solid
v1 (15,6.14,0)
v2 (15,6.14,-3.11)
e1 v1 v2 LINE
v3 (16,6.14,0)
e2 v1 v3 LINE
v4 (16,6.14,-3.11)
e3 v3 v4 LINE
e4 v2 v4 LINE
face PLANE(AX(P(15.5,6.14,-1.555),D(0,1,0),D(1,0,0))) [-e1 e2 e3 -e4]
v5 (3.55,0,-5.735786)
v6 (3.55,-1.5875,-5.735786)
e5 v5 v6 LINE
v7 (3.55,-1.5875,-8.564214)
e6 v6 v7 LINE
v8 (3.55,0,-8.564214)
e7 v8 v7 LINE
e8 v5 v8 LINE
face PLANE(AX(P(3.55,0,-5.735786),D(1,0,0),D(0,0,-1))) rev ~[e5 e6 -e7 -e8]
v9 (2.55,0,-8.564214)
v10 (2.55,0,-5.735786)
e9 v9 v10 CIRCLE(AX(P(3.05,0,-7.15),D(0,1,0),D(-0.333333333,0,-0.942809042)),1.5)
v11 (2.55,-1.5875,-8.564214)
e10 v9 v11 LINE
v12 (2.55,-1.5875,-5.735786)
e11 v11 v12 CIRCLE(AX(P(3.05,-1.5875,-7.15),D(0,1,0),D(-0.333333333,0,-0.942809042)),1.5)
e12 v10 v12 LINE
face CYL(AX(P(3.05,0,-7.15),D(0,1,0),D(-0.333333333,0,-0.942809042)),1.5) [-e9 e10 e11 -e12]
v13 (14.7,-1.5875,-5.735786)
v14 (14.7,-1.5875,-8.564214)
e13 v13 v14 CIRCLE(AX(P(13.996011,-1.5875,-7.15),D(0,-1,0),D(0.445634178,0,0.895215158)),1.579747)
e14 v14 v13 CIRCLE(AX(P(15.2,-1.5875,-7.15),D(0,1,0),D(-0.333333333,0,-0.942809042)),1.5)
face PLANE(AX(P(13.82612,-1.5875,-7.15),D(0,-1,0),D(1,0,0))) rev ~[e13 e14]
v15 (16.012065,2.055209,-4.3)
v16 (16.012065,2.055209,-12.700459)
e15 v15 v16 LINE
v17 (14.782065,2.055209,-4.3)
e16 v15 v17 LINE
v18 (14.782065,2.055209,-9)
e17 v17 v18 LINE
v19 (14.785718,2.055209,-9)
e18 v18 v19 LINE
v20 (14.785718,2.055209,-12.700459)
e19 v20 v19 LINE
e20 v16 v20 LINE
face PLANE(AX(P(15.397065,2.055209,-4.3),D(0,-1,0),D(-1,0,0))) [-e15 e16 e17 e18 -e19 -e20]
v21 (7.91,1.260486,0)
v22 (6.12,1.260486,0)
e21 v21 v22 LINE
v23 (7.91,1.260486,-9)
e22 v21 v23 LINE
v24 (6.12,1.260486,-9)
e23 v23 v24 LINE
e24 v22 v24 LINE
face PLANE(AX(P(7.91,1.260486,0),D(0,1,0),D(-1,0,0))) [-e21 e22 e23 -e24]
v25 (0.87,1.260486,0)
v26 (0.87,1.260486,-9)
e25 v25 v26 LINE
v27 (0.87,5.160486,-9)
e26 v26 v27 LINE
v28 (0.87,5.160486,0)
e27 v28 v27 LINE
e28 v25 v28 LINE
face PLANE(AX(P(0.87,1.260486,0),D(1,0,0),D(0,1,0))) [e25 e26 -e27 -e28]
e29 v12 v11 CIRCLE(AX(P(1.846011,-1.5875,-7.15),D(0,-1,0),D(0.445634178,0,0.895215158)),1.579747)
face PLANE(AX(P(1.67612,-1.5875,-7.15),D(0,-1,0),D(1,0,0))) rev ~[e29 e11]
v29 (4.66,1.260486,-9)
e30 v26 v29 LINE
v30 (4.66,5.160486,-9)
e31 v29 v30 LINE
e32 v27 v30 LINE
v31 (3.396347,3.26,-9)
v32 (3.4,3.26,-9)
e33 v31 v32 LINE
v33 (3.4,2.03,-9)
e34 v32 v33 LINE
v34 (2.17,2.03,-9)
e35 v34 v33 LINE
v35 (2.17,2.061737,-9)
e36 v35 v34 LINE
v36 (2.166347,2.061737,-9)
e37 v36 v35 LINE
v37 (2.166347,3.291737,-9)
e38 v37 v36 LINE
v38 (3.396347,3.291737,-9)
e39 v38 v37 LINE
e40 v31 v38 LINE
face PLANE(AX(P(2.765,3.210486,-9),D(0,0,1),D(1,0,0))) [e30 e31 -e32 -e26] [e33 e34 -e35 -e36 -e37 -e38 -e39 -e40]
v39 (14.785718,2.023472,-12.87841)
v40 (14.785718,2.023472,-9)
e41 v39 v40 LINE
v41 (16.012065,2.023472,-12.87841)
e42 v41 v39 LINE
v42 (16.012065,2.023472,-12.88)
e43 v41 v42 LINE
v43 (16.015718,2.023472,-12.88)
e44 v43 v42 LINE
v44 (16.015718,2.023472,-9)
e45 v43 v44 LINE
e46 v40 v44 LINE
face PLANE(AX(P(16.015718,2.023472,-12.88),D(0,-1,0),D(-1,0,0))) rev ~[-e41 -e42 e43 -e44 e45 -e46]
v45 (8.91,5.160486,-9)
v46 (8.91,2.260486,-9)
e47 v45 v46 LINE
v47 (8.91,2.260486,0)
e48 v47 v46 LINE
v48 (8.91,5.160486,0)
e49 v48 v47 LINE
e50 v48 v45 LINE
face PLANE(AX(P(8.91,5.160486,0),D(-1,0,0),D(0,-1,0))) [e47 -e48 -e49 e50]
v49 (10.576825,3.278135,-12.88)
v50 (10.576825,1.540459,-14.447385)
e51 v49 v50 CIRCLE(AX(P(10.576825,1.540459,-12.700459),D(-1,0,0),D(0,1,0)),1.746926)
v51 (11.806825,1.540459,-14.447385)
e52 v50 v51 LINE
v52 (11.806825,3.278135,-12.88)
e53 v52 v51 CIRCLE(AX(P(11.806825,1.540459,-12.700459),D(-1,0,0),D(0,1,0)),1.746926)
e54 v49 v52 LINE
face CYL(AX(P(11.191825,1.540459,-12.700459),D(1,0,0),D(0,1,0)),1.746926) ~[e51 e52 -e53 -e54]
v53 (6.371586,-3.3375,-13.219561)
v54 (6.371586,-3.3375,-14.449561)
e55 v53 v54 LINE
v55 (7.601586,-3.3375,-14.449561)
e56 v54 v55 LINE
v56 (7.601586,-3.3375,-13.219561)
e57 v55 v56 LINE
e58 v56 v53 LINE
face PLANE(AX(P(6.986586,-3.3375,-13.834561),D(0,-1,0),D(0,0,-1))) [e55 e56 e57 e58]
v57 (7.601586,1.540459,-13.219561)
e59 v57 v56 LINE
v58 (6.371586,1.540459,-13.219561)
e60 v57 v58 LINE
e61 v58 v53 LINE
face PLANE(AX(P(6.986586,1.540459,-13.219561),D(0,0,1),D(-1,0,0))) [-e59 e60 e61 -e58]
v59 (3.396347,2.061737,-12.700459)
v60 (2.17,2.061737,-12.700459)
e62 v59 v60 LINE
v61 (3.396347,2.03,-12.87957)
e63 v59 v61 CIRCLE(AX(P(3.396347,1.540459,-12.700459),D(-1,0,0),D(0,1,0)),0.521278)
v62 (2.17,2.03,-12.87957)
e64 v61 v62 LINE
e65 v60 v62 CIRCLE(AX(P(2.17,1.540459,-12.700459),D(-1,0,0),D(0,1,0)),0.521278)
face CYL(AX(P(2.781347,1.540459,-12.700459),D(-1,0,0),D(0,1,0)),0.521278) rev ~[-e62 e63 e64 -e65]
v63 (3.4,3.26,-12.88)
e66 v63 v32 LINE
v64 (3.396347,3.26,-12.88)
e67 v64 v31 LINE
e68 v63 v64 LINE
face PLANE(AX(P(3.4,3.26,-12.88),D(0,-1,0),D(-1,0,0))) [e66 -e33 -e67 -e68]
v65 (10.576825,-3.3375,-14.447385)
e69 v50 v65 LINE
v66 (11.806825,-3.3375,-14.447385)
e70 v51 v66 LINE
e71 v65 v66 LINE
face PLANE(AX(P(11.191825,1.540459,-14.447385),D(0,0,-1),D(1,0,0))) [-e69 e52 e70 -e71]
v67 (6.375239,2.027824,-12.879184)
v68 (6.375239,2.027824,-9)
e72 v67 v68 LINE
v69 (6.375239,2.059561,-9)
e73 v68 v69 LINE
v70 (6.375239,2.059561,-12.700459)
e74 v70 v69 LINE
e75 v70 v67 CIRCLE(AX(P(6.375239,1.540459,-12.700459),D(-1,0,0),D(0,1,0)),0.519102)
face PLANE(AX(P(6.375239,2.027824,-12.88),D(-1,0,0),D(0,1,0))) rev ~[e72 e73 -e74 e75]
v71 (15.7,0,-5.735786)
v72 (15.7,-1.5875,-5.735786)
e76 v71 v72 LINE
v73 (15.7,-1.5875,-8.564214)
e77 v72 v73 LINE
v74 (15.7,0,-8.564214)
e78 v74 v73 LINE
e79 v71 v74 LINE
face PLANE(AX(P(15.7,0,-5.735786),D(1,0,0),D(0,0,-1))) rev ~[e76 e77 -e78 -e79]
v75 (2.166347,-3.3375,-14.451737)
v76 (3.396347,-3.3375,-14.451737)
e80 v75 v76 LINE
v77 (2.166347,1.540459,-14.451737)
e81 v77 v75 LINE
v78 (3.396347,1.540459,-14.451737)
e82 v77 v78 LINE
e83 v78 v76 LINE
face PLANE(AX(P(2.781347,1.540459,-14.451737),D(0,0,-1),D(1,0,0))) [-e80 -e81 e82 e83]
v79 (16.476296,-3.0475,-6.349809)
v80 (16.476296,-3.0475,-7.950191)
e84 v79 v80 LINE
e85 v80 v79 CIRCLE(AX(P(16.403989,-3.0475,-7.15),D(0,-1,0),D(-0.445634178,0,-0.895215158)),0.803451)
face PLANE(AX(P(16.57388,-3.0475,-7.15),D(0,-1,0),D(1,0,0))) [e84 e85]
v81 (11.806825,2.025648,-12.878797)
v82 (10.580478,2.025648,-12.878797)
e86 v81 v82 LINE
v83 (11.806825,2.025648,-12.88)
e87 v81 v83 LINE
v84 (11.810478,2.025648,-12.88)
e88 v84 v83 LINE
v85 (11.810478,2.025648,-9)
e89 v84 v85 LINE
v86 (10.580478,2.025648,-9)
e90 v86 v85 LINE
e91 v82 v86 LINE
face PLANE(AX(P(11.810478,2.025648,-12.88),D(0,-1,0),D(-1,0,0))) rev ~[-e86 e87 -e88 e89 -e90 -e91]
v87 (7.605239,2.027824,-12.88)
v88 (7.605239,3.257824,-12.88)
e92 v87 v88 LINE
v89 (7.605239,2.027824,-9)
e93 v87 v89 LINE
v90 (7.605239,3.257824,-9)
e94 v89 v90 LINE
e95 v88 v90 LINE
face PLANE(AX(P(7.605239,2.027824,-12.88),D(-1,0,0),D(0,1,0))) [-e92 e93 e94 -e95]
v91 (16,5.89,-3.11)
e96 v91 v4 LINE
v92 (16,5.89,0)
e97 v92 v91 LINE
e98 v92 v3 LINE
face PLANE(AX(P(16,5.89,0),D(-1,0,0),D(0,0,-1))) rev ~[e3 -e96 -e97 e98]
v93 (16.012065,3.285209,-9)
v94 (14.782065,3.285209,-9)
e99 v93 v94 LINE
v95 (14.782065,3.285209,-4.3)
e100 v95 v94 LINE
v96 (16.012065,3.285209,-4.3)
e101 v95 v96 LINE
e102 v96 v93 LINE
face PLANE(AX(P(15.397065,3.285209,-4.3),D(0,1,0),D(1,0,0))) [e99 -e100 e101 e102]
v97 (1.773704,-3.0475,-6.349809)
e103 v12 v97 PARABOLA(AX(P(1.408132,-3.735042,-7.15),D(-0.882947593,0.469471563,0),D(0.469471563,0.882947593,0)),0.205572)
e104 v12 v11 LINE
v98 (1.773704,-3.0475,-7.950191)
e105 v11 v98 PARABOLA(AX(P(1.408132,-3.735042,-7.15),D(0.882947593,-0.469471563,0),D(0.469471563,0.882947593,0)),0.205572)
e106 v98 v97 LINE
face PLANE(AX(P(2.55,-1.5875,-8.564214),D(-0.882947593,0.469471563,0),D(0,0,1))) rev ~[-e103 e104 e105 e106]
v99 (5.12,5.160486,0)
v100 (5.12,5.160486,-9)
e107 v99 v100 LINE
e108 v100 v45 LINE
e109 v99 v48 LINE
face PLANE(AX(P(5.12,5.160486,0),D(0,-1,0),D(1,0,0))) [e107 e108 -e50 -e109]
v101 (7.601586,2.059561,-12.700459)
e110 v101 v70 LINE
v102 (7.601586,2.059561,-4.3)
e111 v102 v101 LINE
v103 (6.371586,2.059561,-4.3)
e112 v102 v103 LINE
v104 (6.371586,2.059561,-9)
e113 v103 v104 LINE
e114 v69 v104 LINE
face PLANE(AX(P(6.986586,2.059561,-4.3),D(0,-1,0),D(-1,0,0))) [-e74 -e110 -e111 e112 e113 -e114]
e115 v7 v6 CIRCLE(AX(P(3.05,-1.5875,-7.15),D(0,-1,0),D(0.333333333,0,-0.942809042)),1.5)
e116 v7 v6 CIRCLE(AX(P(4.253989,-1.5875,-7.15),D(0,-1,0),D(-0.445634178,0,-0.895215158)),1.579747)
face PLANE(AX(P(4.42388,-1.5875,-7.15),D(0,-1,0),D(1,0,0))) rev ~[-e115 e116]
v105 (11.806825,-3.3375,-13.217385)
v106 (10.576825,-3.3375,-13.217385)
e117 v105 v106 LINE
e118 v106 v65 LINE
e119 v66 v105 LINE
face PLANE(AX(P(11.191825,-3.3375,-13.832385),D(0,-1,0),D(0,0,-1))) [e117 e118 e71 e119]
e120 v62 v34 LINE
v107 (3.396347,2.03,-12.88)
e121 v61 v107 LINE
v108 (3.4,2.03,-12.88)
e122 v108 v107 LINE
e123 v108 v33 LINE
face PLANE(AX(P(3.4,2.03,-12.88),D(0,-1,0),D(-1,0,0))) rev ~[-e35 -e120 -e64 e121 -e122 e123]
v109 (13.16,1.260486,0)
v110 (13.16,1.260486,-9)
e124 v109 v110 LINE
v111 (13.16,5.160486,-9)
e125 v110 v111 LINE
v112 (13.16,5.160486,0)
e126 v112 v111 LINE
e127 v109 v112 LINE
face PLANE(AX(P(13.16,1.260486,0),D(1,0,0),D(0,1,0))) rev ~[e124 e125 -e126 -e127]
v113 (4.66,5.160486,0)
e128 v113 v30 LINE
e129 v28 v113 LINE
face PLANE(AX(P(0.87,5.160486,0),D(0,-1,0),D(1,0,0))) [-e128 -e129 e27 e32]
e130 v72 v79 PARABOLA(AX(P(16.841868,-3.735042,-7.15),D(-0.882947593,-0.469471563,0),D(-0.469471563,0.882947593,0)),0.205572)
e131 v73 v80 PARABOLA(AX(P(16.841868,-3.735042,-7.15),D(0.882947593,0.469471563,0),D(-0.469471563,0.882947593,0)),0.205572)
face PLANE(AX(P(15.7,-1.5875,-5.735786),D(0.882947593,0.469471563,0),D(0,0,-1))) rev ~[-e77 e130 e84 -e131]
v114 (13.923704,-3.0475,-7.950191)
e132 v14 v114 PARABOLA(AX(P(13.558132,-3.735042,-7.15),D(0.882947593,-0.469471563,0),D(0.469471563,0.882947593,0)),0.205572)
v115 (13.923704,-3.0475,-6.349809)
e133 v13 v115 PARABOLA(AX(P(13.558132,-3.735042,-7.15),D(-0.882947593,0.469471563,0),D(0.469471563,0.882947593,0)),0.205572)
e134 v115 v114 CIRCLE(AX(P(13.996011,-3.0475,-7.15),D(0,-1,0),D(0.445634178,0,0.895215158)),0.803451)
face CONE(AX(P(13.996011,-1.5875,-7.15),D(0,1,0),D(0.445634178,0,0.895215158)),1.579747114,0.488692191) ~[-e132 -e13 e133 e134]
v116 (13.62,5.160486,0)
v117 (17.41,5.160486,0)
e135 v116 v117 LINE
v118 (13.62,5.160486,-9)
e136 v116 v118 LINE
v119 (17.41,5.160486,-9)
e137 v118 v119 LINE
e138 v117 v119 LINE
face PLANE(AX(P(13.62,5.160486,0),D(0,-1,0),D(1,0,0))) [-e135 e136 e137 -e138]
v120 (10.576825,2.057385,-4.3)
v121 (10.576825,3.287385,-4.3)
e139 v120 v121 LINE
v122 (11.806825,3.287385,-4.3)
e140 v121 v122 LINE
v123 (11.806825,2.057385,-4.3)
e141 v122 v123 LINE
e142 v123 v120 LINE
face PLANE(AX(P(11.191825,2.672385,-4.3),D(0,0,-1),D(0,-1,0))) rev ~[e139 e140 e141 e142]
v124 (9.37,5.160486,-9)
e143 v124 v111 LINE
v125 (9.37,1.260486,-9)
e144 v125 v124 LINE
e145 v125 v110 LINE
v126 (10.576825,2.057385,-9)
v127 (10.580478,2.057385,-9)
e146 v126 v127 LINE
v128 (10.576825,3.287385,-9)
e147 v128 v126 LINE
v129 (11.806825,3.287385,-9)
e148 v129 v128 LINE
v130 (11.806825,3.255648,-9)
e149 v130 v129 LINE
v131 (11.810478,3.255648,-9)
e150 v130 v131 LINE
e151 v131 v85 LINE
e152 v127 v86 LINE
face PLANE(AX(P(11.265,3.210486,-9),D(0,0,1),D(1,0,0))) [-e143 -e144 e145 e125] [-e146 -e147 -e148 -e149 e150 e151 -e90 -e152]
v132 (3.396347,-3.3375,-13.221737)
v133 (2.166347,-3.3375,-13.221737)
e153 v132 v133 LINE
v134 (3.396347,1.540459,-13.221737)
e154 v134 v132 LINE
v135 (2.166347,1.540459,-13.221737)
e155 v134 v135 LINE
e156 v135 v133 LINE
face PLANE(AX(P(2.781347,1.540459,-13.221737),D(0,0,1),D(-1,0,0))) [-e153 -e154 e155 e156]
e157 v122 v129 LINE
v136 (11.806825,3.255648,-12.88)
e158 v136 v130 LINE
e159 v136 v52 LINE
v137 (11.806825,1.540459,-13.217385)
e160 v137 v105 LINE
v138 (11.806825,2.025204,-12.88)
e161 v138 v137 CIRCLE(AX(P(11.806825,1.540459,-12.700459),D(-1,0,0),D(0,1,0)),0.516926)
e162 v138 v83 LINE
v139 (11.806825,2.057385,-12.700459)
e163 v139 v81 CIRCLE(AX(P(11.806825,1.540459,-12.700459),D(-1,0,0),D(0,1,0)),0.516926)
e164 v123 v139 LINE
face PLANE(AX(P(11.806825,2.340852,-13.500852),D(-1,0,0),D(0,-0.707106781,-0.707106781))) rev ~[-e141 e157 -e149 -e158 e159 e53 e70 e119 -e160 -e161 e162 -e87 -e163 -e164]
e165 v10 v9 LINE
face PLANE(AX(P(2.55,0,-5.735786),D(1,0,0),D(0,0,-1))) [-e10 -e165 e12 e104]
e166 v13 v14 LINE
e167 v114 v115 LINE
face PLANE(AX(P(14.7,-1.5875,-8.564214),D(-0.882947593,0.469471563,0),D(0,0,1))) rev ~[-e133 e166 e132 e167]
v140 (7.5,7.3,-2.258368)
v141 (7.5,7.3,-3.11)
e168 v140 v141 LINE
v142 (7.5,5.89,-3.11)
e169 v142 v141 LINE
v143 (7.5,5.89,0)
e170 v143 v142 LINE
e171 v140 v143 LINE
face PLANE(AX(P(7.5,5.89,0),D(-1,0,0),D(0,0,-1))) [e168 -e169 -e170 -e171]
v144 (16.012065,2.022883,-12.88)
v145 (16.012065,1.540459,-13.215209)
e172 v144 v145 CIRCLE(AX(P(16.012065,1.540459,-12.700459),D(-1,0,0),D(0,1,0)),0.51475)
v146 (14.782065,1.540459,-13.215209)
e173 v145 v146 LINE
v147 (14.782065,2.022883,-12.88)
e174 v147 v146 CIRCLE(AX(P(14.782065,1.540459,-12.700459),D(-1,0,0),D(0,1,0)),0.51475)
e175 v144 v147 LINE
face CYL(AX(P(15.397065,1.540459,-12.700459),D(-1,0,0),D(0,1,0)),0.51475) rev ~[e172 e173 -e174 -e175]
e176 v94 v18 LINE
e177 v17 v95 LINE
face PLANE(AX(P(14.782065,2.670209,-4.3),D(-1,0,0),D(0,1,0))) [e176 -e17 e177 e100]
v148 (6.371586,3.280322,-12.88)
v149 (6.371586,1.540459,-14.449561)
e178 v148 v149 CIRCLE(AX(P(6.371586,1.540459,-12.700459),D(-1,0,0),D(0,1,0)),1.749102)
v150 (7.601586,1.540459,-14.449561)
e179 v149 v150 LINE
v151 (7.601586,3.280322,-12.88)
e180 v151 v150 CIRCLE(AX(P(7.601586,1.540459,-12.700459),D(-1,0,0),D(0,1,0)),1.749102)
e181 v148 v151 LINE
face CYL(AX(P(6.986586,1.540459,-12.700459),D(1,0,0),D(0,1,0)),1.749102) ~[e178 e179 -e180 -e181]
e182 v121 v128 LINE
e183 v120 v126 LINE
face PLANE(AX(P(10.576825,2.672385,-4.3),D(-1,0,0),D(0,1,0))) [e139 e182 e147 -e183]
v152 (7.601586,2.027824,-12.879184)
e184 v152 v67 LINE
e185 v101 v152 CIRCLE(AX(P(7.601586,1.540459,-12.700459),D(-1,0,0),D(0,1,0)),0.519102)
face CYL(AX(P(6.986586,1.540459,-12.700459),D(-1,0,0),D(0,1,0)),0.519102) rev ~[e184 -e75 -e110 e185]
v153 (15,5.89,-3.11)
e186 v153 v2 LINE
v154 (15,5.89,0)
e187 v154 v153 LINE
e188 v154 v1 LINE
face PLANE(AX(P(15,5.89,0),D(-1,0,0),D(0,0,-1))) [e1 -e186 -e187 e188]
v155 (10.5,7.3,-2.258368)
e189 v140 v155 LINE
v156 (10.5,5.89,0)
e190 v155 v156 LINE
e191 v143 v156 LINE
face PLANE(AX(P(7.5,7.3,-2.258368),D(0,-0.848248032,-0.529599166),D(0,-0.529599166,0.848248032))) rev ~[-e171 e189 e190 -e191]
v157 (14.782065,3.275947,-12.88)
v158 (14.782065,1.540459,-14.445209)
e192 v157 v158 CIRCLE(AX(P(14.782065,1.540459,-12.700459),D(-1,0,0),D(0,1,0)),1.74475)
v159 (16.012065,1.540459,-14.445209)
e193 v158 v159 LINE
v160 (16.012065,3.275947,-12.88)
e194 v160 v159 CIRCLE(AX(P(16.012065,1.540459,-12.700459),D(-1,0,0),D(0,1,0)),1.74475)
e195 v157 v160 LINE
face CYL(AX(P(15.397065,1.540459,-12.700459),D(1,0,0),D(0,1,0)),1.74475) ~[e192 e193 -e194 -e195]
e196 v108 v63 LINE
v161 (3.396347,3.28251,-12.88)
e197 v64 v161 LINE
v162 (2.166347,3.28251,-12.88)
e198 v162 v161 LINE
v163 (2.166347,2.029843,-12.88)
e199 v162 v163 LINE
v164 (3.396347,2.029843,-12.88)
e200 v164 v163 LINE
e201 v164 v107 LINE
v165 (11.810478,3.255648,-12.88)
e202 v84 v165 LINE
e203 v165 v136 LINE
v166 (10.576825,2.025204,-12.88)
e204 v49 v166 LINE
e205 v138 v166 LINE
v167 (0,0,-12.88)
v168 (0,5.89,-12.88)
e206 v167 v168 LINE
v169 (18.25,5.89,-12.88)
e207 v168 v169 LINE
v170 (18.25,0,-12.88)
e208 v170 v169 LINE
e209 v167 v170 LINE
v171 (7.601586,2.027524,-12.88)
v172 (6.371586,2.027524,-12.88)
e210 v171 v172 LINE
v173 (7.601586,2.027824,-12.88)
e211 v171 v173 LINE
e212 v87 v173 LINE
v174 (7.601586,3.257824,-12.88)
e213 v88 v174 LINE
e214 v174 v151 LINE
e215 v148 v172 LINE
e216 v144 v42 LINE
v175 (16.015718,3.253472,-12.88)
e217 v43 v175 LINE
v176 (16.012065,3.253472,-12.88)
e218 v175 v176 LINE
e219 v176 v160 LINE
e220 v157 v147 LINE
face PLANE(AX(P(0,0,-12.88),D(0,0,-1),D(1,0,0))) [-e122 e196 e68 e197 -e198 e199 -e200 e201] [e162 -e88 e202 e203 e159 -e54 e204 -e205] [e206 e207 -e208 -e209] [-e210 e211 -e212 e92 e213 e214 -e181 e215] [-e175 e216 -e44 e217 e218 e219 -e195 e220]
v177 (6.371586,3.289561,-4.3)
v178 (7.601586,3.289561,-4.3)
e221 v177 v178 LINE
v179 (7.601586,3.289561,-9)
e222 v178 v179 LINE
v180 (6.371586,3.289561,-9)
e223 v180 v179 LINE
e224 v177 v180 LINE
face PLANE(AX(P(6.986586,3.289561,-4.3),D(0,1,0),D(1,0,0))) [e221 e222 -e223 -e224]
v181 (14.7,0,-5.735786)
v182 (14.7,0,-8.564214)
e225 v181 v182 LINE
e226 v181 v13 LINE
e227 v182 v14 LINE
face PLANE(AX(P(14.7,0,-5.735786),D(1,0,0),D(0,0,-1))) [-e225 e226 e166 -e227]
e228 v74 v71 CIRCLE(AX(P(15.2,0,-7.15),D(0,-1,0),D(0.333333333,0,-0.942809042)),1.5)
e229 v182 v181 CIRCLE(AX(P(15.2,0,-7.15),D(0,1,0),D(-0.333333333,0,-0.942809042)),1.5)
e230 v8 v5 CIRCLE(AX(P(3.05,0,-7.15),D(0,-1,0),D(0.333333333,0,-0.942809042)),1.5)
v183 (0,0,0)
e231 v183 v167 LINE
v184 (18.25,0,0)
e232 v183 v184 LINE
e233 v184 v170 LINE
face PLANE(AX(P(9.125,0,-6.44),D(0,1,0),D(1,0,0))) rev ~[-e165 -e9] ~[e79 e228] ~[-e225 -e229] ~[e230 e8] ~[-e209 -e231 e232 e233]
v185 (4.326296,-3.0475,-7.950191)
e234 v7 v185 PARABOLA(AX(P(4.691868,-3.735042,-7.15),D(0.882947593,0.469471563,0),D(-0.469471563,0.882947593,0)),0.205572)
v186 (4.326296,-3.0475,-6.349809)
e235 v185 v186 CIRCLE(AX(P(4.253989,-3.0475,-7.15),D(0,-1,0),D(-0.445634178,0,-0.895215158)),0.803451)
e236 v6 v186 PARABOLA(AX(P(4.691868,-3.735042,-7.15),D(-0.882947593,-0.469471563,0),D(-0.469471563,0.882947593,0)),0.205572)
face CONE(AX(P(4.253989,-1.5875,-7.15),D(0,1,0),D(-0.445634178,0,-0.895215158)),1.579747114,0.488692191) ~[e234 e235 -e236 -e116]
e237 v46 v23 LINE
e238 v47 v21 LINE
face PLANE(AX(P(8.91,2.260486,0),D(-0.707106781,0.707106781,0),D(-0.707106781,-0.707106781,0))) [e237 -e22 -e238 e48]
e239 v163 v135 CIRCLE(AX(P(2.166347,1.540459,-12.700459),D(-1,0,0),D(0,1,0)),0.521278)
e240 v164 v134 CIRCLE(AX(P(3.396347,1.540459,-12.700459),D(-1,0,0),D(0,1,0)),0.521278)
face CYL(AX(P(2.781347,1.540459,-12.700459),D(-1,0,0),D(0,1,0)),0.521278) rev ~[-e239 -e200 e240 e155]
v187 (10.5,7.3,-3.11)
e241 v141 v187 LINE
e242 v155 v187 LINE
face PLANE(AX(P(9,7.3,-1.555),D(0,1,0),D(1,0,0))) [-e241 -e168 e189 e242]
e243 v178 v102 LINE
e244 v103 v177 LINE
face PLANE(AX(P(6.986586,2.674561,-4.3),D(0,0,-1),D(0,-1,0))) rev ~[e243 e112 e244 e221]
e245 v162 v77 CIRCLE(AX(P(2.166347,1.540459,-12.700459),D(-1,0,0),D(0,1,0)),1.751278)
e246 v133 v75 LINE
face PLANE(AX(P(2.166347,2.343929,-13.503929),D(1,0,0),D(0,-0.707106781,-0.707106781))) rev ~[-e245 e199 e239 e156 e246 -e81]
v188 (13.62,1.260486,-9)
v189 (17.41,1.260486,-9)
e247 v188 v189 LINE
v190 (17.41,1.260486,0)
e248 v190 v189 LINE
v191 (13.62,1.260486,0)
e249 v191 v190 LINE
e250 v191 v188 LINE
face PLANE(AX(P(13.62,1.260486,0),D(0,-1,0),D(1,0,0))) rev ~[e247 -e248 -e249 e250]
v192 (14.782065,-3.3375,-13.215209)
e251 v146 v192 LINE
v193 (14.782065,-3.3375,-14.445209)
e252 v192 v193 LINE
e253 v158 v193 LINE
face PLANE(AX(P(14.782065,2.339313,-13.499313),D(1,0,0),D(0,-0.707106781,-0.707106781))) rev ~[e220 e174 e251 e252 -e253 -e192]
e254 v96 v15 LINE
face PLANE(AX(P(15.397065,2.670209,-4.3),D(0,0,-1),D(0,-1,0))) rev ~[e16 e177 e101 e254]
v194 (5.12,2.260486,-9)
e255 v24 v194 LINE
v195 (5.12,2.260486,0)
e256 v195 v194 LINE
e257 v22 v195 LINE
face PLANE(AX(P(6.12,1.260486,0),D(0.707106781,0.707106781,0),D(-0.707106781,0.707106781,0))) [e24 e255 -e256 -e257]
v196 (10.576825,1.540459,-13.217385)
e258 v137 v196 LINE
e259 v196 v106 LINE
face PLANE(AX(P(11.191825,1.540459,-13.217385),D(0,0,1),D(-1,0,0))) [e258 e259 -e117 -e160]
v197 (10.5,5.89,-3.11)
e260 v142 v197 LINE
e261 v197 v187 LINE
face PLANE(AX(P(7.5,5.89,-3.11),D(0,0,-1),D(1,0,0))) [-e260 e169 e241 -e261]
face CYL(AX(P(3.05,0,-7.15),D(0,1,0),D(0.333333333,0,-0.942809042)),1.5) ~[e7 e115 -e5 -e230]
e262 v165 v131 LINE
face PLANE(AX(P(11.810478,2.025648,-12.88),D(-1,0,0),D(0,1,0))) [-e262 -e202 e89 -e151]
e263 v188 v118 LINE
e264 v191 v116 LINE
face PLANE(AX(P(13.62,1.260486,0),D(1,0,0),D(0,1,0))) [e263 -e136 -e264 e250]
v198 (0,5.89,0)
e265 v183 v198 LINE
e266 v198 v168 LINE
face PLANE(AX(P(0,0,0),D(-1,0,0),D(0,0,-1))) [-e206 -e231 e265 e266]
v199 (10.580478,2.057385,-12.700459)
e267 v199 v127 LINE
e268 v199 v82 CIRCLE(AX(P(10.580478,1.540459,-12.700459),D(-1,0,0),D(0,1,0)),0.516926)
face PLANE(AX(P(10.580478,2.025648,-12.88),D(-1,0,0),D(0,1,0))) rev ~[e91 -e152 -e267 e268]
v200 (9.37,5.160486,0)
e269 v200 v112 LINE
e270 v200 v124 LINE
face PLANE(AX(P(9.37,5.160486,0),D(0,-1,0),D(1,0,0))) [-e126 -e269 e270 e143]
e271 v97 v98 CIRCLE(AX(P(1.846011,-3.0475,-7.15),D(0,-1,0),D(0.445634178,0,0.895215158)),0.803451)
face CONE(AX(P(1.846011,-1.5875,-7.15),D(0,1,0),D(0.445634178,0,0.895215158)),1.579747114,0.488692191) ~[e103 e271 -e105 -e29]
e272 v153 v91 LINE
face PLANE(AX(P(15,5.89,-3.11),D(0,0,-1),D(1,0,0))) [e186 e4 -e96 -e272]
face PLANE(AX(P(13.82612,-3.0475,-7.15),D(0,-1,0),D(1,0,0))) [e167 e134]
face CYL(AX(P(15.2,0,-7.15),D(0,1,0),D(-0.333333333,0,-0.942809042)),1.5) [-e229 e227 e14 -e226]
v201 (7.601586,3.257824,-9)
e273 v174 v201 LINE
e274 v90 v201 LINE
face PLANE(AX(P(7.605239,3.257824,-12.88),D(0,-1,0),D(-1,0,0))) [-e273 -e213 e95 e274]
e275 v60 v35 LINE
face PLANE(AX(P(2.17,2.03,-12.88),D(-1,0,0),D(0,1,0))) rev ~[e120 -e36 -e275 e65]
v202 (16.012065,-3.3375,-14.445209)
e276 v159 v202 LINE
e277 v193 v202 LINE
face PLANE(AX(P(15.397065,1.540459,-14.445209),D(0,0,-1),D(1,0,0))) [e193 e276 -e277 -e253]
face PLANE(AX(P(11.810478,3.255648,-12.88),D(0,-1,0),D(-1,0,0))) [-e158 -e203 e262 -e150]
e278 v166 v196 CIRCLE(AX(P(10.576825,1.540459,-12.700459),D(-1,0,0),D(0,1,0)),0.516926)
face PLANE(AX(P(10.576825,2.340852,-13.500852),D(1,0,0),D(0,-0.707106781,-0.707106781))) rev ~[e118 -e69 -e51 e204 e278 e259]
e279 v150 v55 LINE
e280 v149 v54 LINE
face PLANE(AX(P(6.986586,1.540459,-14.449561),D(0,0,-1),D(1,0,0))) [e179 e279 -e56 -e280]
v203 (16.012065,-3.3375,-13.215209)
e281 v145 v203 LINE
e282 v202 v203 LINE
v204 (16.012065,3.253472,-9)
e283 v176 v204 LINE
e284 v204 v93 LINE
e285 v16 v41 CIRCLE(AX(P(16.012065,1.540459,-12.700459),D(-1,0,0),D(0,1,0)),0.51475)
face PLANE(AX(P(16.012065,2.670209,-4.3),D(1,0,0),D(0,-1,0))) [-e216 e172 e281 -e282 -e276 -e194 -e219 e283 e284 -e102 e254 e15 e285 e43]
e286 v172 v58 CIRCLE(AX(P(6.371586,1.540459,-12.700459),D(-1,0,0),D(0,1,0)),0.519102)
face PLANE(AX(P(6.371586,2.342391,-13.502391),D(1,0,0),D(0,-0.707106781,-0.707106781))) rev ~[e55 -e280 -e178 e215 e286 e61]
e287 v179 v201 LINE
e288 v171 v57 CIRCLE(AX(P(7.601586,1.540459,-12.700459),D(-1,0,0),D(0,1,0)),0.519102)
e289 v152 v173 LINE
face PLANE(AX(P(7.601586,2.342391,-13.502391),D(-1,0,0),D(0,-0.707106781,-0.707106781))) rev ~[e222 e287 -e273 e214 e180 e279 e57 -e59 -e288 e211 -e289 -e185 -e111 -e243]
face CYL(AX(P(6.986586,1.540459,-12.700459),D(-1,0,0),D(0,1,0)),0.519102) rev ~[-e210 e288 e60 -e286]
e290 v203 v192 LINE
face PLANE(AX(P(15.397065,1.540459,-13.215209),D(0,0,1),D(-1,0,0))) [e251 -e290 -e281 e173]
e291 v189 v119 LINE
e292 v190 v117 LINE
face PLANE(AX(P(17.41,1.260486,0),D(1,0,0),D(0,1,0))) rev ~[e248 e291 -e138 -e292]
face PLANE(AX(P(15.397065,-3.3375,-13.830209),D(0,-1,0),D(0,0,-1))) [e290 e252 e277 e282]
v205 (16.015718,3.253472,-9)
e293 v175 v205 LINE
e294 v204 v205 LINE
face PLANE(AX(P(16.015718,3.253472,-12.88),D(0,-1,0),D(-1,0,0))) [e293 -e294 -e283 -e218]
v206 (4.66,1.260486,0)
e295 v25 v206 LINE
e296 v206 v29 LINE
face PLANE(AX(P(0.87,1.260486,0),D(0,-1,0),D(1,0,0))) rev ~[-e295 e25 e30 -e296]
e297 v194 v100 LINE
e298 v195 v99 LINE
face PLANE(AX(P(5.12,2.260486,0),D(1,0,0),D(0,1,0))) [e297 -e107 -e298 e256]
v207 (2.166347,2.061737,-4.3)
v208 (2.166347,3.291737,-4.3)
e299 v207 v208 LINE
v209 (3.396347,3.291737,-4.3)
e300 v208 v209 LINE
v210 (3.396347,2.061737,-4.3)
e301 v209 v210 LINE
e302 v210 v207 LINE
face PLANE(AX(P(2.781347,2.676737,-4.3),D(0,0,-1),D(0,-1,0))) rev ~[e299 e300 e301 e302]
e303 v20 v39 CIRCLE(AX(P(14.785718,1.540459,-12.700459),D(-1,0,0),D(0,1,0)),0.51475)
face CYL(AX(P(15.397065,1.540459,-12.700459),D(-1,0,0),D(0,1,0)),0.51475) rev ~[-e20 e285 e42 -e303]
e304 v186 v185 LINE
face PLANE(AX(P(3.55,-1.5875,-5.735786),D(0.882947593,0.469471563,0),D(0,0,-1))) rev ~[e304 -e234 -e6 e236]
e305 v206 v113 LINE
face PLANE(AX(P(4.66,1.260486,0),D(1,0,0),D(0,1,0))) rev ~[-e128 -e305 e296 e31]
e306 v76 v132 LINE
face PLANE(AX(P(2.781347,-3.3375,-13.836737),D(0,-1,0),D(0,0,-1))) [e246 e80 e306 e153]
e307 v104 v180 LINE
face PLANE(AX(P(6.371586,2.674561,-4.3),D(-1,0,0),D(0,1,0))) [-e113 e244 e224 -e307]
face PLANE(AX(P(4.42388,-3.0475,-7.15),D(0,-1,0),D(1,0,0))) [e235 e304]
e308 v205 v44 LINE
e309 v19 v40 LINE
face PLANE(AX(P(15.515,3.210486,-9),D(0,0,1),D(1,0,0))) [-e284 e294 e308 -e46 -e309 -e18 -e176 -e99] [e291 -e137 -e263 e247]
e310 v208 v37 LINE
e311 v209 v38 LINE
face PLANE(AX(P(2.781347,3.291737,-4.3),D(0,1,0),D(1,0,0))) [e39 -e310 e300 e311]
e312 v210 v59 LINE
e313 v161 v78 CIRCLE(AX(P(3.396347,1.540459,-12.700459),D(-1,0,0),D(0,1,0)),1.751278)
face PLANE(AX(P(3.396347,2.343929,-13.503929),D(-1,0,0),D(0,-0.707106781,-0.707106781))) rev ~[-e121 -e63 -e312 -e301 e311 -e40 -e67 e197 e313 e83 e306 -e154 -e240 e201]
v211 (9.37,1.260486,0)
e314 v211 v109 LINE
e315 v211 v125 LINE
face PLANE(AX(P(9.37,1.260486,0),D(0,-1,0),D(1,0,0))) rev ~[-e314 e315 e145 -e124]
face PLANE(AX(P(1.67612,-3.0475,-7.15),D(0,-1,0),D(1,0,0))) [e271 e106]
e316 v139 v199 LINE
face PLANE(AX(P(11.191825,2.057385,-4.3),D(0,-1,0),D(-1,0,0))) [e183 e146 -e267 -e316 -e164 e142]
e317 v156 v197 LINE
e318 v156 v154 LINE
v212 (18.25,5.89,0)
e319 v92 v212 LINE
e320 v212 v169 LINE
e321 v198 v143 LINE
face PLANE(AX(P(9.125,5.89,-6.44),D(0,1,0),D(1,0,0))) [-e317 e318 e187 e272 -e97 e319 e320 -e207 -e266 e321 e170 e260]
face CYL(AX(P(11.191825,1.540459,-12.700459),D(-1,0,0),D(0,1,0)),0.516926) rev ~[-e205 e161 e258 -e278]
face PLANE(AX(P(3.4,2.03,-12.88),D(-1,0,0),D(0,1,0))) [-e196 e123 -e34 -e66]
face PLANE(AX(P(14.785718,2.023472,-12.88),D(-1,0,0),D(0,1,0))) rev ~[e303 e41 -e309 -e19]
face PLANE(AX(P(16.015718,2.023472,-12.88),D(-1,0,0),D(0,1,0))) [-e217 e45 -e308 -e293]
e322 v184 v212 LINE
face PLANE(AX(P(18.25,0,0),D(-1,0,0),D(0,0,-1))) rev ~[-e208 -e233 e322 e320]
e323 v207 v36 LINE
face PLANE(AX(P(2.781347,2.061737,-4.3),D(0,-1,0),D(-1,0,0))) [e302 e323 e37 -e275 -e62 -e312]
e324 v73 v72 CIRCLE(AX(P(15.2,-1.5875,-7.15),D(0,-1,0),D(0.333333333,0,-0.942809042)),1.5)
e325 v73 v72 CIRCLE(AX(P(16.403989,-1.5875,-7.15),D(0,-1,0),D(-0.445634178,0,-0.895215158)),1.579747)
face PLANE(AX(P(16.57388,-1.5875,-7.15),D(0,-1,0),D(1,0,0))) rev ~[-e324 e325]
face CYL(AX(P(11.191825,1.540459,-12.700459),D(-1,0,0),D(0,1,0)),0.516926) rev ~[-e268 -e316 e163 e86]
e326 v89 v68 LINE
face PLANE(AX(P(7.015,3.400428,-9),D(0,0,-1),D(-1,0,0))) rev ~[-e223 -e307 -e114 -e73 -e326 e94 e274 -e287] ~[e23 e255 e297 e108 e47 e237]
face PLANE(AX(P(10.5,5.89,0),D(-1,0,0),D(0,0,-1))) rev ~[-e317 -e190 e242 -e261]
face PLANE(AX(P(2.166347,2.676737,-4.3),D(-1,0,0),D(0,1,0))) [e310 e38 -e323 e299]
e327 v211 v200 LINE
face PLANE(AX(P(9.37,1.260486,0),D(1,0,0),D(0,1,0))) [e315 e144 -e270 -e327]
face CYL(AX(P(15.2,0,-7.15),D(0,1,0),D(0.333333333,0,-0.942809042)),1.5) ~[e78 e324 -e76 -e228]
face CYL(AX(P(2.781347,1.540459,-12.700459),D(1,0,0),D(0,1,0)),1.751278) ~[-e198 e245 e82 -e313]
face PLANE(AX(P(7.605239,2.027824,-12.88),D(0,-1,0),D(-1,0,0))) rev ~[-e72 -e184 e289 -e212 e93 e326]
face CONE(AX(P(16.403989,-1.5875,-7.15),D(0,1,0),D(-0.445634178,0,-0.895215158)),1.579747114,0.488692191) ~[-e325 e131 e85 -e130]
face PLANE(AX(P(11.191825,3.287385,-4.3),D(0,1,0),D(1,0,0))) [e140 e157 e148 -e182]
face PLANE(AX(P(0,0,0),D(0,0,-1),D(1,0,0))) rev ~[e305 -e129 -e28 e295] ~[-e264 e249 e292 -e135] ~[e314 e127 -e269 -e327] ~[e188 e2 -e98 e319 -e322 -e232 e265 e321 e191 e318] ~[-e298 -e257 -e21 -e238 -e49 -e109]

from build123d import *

# Parameters (mm, degrees)
SKETCH1_W                     = 18.25
SKETCH1_H                     = 12.88
BOSS_EXTRUDE1_DEPTH           = 5.89
SKETCH2_W                     = 3.79
SKETCH2_H                     = 3.9
CUT_EXTRUDE1_DEPTH            = 9
SKETCH3_W                     = 3
SKETCH3_H                     = 3.11
BOSS_EXTRUDE2_DEPTH           = 1.41
CUT_EXTRUDE2_DEPTH            = 3
SKETCH5_W                     = 1.23
SKETCH5_H                     = 1.23
CUT_EXTRUDE3_DEPTH            = 4
SKETCH8_W                     = 1.23
SKETCH8_H                     = 1.23
SKETCH9_W                     = 1
SKETCH9_H                     = 3.11
BOSS_EXTRUDE3_DEPTH           = 0.25
BOSS_EXTRUDE5_DEPTH           = 1.5875
BOSS_EXTRUDE6_DEPTH           = 1.46
BOSS_EXTRUDE6_DRAFT           = 28
BOSS_EXTRUDE6_PROFILE_2_DEPTH = 1.46
BOSS_EXTRUDE6_PROFILE_2_DRAFT = 28
BOSS_EXTRUDE6_PROFILE_3_DEPTH = 1.46
BOSS_EXTRUDE6_PROFILE_3_DRAFT = 28
BOSS_EXTRUDE6_PROFILE_4_DEPTH = 1.46
BOSS_EXTRUDE6_PROFILE_4_DRAFT = 28


with BuildPart() as part:
    # Sketch1 → Boss-Extrude1 (new body)
    with BuildSketch(Plane(origin=(0, 0, 0), x_dir=(1, 0, 0), z_dir=(0, 1, 0))):
        with Locations((9.125, 6.44)):
            Rectangle(SKETCH1_W, SKETCH1_H)
    extrude(amount=BOSS_EXTRUDE1_DEPTH)

    # Sketch2 → Cut-Extrude1 (cut)
    with BuildSketch(Plane.XY):
        with Locations((2.765, 3.21048567)):
            Rectangle(SKETCH2_W, SKETCH2_H)
        Polygon((5.12, 5.16048567), (8.91, 5.16048567), (8.91, 2.26048567), (7.91, 1.26048567), (6.12, 1.26048567), (5.12, 2.26048567), align=None)
        with Locations((11.265, 3.21048567)):
            Rectangle(SKETCH2_W, SKETCH2_H)
        with Locations((15.515, 3.21048567)):
            Rectangle(SKETCH2_W, SKETCH2_H)
    extrude(amount=-CUT_EXTRUDE1_DEPTH, mode=Mode.SUBTRACT)

    # Sketch3 → Boss-Extrude2 (add)
    with BuildSketch(Plane(origin=(0, 5.89, 0), x_dir=(1, 0, 0), z_dir=(0, 1, 0))):
        with Locations((9, 1.555)):
            Rectangle(SKETCH3_W, SKETCH3_H)
    extrude(amount=BOSS_EXTRUDE2_DEPTH)

    # Sketch4 → Cut-Extrude2 (cut)
    with BuildSketch(Plane.ZY.offset(-7.5)):
        Polygon((-2.258367839, 7.3), (0, 5.89), (0, 7.3), align=None)
    extrude(amount=-CUT_EXTRUDE2_DEPTH, mode=Mode.SUBTRACT)

    # Sketch5 → Cut-Extrude3 (cut)
    with BuildSketch(Plane(origin=(0, 0, -12.88), x_dir=(-1, 0, 0), z_dir=(0, 0, -1))):
        with Locations((-2.785, 2.645)):
            Rectangle(SKETCH5_W, SKETCH5_H)
        with Locations((-6.990239219, 2.642823938)):
            Rectangle(SKETCH5_W, SKETCH5_H)
        with Locations((-11.195478439, 2.640647876)):
            Rectangle(SKETCH5_W, SKETCH5_H)
        with Locations((-15.400717658, 2.638471814)):
            Rectangle(SKETCH5_W, SKETCH5_H)
    extrude(amount=-CUT_EXTRUDE3_DEPTH, mode=Mode.SUBTRACT)

    # Sweep2: sweep along a path in Sketch7
    with BuildLine(Plane.ZY) as sweep2_path:
        Line((-4.3, 2.72), (-12.700459496, 2.72))
        ThreePointArc((-12.700459496, 2.72), (-13.534520585, 2.374520585), (-13.88, 1.540459496))
        Line((-13.88, 1.540459496), (-13.88, -3.3375))
    # Sketch8 → Sweep2 (sweep)
    with BuildSketch(Plane.XZ.offset(3.3375)):
        with Locations((15.397064507, -13.830209109)):
            Rectangle(SKETCH8_W, SKETCH8_H)
        with Locations((11.191825288, -13.832385171)):
            Rectangle(SKETCH8_W, SKETCH8_H)
        with Locations((6.986586068, -13.834561233)):
            Rectangle(SKETCH8_W, SKETCH8_H)
        with Locations((2.781346849, -13.836737294)):
            Rectangle(SKETCH8_W, SKETCH8_H)
    sweep(path=sweep2_path.line)

    # Sketch9 → Boss-Extrude3 (add)
    with BuildSketch(Plane(origin=(0, 5.89, 0), x_dir=(1, 0, 0), z_dir=(0, 1, 0))):
        with Locations((15.5, 1.555)):
            Rectangle(SKETCH9_W, SKETCH9_H)
    extrude(amount=BOSS_EXTRUDE3_DEPTH)

    # Sketch10 → Boss-Extrude5 (add)
    with BuildSketch(Plane.XZ):
        with BuildLine():
            Line((2.55, -5.735786438), (2.55, -8.564213562))
            ThreePointArc((2.55, -8.564213562), (1.55, -7.15), (2.55, -5.735786438))
        make_face()
        with BuildLine():
            Line((3.55, -5.735786438), (3.55, -8.564213562))
            ThreePointArc((3.55, -8.564213562), (4.55, -7.15), (3.55, -5.735786438))
        make_face()
        with BuildLine():
            Line((14.7, -5.735786438), (14.7, -8.564213562))
            ThreePointArc((14.7, -8.564213562), (13.7, -7.15), (14.7, -5.735786438))
        make_face()
        with BuildLine():
            Line((15.7, -5.735786438), (15.7, -8.564213562))
            ThreePointArc((15.7, -8.564213562), (16.7, -7.15), (15.7, -5.735786438))
        make_face()
    extrude(amount=BOSS_EXTRUDE5_DEPTH)


with BuildPart() as boss_extrude6_tool:
    # Sketch12 → Boss-Extrude6 (with draft: the straight prism first)
    with BuildSketch(Plane.XZ.offset(1.5875)):
        with BuildLine():
            ThreePointArc((2.55, -5.735786438), (0.266263579, -7.15), (2.55, -8.564213562))
            Line((2.55, -8.564213562), (2.55, -5.735786438))
        make_face()
    extrude(amount=BOSS_EXTRUDE6_DEPTH)
    # Boss-Extrude6: the draft: its side faces are tilted about the plane it starts from
    boss_extrude6_sides = [boss_extrude6_tool.faces().sort_by_distance(p)[0] for p in [
        (2.55, -2.3175, -7.15),
        (0.266263579, -2.3175, -7.15),
    ]]
    draft(boss_extrude6_sides, Plane.XZ.offset(1.5875), BOSS_EXTRUDE6_DRAFT)


with BuildPart() as part_1:
    add(part.part)

    # Boss-Extrude6: add boss_extrude6_tool
    add(boss_extrude6_tool.part)


with BuildPart() as boss_extrude6_profile_2_tool:
    # Sketch12 → Boss-Extrude6 profile 2 (with draft: the straight prism first)
    with BuildSketch(Plane.XZ.offset(1.5875)):
        with BuildLine():
            Line((3.55, -5.735786438), (3.55, -8.564213562))
            ThreePointArc((3.55, -8.564213562), (5.833736421, -7.15), (3.55, -5.735786438))
        make_face()
    extrude(amount=BOSS_EXTRUDE6_PROFILE_2_DEPTH)
    # Boss-Extrude6 profile 2: the draft: its side faces are tilted about the plane it starts from
    boss_extrude6_profile_2_sides = [boss_extrude6_profile_2_tool.faces().sort_by_distance(p)[0] for p in [
        (3.55, -2.3175, -7.15),
        (5.833736421, -2.3175, -7.15),
    ]]
    draft(boss_extrude6_profile_2_sides, Plane.XZ.offset(1.5875), BOSS_EXTRUDE6_PROFILE_2_DRAFT)


with BuildPart() as part_2:
    add(part_1.part)

    # Boss-Extrude6 profile 2: add boss_extrude6_profile_2_tool
    add(boss_extrude6_profile_2_tool.part)


with BuildPart() as boss_extrude6_profile_3_tool:
    # Sketch12 → Boss-Extrude6 profile 3 (with draft: the straight prism first)
    with BuildSketch(Plane.XZ.offset(1.5875)):
        with BuildLine():
            ThreePointArc((14.7, -5.735786438), (12.416263579, -7.15), (14.7, -8.564213562))
            Line((14.7, -8.564213562), (14.7, -5.735786438))
        make_face()
    extrude(amount=BOSS_EXTRUDE6_PROFILE_3_DEPTH)
    # Boss-Extrude6 profile 3: the draft: its side faces are tilted about the plane it starts from
    boss_extrude6_profile_3_sides = [boss_extrude6_profile_3_tool.faces().sort_by_distance(p)[0] for p in [
        (12.416263579, -2.3175, -7.15),
        (14.7, -2.3175, -7.15),
    ]]
    draft(boss_extrude6_profile_3_sides, Plane.XZ.offset(1.5875), BOSS_EXTRUDE6_PROFILE_3_DRAFT)


with BuildPart() as part_3:
    add(part_2.part)

    # Boss-Extrude6 profile 3: add boss_extrude6_profile_3_tool
    add(boss_extrude6_profile_3_tool.part)


with BuildPart() as boss_extrude6_profile_4_tool:
    # Sketch12 → Boss-Extrude6 profile 4 (with draft: the straight prism first)
    with BuildSketch(Plane.XZ.offset(1.5875)):
        with BuildLine():
            Line((15.7, -5.735786438), (15.7, -8.564213562))
            ThreePointArc((15.7, -8.564213562), (17.983736421, -7.15), (15.7, -5.735786438))
        make_face()
    extrude(amount=BOSS_EXTRUDE6_PROFILE_4_DEPTH)
    # Boss-Extrude6 profile 4: the draft: its side faces are tilted about the plane it starts from
    boss_extrude6_profile_4_sides = [boss_extrude6_profile_4_tool.faces().sort_by_distance(p)[0] for p in [
        (15.7, -2.3175, -7.15),
        (17.983736421, -2.3175, -7.15),
    ]]
    draft(boss_extrude6_profile_4_sides, Plane.XZ.offset(1.5875), BOSS_EXTRUDE6_PROFILE_4_DRAFT)


with BuildPart() as part_4:
    add(part_3.part)

    # Boss-Extrude6 profile 4: add boss_extrude6_profile_4_tool
    add(boss_extrude6_profile_4_tool.part)


solid = part_4.part
